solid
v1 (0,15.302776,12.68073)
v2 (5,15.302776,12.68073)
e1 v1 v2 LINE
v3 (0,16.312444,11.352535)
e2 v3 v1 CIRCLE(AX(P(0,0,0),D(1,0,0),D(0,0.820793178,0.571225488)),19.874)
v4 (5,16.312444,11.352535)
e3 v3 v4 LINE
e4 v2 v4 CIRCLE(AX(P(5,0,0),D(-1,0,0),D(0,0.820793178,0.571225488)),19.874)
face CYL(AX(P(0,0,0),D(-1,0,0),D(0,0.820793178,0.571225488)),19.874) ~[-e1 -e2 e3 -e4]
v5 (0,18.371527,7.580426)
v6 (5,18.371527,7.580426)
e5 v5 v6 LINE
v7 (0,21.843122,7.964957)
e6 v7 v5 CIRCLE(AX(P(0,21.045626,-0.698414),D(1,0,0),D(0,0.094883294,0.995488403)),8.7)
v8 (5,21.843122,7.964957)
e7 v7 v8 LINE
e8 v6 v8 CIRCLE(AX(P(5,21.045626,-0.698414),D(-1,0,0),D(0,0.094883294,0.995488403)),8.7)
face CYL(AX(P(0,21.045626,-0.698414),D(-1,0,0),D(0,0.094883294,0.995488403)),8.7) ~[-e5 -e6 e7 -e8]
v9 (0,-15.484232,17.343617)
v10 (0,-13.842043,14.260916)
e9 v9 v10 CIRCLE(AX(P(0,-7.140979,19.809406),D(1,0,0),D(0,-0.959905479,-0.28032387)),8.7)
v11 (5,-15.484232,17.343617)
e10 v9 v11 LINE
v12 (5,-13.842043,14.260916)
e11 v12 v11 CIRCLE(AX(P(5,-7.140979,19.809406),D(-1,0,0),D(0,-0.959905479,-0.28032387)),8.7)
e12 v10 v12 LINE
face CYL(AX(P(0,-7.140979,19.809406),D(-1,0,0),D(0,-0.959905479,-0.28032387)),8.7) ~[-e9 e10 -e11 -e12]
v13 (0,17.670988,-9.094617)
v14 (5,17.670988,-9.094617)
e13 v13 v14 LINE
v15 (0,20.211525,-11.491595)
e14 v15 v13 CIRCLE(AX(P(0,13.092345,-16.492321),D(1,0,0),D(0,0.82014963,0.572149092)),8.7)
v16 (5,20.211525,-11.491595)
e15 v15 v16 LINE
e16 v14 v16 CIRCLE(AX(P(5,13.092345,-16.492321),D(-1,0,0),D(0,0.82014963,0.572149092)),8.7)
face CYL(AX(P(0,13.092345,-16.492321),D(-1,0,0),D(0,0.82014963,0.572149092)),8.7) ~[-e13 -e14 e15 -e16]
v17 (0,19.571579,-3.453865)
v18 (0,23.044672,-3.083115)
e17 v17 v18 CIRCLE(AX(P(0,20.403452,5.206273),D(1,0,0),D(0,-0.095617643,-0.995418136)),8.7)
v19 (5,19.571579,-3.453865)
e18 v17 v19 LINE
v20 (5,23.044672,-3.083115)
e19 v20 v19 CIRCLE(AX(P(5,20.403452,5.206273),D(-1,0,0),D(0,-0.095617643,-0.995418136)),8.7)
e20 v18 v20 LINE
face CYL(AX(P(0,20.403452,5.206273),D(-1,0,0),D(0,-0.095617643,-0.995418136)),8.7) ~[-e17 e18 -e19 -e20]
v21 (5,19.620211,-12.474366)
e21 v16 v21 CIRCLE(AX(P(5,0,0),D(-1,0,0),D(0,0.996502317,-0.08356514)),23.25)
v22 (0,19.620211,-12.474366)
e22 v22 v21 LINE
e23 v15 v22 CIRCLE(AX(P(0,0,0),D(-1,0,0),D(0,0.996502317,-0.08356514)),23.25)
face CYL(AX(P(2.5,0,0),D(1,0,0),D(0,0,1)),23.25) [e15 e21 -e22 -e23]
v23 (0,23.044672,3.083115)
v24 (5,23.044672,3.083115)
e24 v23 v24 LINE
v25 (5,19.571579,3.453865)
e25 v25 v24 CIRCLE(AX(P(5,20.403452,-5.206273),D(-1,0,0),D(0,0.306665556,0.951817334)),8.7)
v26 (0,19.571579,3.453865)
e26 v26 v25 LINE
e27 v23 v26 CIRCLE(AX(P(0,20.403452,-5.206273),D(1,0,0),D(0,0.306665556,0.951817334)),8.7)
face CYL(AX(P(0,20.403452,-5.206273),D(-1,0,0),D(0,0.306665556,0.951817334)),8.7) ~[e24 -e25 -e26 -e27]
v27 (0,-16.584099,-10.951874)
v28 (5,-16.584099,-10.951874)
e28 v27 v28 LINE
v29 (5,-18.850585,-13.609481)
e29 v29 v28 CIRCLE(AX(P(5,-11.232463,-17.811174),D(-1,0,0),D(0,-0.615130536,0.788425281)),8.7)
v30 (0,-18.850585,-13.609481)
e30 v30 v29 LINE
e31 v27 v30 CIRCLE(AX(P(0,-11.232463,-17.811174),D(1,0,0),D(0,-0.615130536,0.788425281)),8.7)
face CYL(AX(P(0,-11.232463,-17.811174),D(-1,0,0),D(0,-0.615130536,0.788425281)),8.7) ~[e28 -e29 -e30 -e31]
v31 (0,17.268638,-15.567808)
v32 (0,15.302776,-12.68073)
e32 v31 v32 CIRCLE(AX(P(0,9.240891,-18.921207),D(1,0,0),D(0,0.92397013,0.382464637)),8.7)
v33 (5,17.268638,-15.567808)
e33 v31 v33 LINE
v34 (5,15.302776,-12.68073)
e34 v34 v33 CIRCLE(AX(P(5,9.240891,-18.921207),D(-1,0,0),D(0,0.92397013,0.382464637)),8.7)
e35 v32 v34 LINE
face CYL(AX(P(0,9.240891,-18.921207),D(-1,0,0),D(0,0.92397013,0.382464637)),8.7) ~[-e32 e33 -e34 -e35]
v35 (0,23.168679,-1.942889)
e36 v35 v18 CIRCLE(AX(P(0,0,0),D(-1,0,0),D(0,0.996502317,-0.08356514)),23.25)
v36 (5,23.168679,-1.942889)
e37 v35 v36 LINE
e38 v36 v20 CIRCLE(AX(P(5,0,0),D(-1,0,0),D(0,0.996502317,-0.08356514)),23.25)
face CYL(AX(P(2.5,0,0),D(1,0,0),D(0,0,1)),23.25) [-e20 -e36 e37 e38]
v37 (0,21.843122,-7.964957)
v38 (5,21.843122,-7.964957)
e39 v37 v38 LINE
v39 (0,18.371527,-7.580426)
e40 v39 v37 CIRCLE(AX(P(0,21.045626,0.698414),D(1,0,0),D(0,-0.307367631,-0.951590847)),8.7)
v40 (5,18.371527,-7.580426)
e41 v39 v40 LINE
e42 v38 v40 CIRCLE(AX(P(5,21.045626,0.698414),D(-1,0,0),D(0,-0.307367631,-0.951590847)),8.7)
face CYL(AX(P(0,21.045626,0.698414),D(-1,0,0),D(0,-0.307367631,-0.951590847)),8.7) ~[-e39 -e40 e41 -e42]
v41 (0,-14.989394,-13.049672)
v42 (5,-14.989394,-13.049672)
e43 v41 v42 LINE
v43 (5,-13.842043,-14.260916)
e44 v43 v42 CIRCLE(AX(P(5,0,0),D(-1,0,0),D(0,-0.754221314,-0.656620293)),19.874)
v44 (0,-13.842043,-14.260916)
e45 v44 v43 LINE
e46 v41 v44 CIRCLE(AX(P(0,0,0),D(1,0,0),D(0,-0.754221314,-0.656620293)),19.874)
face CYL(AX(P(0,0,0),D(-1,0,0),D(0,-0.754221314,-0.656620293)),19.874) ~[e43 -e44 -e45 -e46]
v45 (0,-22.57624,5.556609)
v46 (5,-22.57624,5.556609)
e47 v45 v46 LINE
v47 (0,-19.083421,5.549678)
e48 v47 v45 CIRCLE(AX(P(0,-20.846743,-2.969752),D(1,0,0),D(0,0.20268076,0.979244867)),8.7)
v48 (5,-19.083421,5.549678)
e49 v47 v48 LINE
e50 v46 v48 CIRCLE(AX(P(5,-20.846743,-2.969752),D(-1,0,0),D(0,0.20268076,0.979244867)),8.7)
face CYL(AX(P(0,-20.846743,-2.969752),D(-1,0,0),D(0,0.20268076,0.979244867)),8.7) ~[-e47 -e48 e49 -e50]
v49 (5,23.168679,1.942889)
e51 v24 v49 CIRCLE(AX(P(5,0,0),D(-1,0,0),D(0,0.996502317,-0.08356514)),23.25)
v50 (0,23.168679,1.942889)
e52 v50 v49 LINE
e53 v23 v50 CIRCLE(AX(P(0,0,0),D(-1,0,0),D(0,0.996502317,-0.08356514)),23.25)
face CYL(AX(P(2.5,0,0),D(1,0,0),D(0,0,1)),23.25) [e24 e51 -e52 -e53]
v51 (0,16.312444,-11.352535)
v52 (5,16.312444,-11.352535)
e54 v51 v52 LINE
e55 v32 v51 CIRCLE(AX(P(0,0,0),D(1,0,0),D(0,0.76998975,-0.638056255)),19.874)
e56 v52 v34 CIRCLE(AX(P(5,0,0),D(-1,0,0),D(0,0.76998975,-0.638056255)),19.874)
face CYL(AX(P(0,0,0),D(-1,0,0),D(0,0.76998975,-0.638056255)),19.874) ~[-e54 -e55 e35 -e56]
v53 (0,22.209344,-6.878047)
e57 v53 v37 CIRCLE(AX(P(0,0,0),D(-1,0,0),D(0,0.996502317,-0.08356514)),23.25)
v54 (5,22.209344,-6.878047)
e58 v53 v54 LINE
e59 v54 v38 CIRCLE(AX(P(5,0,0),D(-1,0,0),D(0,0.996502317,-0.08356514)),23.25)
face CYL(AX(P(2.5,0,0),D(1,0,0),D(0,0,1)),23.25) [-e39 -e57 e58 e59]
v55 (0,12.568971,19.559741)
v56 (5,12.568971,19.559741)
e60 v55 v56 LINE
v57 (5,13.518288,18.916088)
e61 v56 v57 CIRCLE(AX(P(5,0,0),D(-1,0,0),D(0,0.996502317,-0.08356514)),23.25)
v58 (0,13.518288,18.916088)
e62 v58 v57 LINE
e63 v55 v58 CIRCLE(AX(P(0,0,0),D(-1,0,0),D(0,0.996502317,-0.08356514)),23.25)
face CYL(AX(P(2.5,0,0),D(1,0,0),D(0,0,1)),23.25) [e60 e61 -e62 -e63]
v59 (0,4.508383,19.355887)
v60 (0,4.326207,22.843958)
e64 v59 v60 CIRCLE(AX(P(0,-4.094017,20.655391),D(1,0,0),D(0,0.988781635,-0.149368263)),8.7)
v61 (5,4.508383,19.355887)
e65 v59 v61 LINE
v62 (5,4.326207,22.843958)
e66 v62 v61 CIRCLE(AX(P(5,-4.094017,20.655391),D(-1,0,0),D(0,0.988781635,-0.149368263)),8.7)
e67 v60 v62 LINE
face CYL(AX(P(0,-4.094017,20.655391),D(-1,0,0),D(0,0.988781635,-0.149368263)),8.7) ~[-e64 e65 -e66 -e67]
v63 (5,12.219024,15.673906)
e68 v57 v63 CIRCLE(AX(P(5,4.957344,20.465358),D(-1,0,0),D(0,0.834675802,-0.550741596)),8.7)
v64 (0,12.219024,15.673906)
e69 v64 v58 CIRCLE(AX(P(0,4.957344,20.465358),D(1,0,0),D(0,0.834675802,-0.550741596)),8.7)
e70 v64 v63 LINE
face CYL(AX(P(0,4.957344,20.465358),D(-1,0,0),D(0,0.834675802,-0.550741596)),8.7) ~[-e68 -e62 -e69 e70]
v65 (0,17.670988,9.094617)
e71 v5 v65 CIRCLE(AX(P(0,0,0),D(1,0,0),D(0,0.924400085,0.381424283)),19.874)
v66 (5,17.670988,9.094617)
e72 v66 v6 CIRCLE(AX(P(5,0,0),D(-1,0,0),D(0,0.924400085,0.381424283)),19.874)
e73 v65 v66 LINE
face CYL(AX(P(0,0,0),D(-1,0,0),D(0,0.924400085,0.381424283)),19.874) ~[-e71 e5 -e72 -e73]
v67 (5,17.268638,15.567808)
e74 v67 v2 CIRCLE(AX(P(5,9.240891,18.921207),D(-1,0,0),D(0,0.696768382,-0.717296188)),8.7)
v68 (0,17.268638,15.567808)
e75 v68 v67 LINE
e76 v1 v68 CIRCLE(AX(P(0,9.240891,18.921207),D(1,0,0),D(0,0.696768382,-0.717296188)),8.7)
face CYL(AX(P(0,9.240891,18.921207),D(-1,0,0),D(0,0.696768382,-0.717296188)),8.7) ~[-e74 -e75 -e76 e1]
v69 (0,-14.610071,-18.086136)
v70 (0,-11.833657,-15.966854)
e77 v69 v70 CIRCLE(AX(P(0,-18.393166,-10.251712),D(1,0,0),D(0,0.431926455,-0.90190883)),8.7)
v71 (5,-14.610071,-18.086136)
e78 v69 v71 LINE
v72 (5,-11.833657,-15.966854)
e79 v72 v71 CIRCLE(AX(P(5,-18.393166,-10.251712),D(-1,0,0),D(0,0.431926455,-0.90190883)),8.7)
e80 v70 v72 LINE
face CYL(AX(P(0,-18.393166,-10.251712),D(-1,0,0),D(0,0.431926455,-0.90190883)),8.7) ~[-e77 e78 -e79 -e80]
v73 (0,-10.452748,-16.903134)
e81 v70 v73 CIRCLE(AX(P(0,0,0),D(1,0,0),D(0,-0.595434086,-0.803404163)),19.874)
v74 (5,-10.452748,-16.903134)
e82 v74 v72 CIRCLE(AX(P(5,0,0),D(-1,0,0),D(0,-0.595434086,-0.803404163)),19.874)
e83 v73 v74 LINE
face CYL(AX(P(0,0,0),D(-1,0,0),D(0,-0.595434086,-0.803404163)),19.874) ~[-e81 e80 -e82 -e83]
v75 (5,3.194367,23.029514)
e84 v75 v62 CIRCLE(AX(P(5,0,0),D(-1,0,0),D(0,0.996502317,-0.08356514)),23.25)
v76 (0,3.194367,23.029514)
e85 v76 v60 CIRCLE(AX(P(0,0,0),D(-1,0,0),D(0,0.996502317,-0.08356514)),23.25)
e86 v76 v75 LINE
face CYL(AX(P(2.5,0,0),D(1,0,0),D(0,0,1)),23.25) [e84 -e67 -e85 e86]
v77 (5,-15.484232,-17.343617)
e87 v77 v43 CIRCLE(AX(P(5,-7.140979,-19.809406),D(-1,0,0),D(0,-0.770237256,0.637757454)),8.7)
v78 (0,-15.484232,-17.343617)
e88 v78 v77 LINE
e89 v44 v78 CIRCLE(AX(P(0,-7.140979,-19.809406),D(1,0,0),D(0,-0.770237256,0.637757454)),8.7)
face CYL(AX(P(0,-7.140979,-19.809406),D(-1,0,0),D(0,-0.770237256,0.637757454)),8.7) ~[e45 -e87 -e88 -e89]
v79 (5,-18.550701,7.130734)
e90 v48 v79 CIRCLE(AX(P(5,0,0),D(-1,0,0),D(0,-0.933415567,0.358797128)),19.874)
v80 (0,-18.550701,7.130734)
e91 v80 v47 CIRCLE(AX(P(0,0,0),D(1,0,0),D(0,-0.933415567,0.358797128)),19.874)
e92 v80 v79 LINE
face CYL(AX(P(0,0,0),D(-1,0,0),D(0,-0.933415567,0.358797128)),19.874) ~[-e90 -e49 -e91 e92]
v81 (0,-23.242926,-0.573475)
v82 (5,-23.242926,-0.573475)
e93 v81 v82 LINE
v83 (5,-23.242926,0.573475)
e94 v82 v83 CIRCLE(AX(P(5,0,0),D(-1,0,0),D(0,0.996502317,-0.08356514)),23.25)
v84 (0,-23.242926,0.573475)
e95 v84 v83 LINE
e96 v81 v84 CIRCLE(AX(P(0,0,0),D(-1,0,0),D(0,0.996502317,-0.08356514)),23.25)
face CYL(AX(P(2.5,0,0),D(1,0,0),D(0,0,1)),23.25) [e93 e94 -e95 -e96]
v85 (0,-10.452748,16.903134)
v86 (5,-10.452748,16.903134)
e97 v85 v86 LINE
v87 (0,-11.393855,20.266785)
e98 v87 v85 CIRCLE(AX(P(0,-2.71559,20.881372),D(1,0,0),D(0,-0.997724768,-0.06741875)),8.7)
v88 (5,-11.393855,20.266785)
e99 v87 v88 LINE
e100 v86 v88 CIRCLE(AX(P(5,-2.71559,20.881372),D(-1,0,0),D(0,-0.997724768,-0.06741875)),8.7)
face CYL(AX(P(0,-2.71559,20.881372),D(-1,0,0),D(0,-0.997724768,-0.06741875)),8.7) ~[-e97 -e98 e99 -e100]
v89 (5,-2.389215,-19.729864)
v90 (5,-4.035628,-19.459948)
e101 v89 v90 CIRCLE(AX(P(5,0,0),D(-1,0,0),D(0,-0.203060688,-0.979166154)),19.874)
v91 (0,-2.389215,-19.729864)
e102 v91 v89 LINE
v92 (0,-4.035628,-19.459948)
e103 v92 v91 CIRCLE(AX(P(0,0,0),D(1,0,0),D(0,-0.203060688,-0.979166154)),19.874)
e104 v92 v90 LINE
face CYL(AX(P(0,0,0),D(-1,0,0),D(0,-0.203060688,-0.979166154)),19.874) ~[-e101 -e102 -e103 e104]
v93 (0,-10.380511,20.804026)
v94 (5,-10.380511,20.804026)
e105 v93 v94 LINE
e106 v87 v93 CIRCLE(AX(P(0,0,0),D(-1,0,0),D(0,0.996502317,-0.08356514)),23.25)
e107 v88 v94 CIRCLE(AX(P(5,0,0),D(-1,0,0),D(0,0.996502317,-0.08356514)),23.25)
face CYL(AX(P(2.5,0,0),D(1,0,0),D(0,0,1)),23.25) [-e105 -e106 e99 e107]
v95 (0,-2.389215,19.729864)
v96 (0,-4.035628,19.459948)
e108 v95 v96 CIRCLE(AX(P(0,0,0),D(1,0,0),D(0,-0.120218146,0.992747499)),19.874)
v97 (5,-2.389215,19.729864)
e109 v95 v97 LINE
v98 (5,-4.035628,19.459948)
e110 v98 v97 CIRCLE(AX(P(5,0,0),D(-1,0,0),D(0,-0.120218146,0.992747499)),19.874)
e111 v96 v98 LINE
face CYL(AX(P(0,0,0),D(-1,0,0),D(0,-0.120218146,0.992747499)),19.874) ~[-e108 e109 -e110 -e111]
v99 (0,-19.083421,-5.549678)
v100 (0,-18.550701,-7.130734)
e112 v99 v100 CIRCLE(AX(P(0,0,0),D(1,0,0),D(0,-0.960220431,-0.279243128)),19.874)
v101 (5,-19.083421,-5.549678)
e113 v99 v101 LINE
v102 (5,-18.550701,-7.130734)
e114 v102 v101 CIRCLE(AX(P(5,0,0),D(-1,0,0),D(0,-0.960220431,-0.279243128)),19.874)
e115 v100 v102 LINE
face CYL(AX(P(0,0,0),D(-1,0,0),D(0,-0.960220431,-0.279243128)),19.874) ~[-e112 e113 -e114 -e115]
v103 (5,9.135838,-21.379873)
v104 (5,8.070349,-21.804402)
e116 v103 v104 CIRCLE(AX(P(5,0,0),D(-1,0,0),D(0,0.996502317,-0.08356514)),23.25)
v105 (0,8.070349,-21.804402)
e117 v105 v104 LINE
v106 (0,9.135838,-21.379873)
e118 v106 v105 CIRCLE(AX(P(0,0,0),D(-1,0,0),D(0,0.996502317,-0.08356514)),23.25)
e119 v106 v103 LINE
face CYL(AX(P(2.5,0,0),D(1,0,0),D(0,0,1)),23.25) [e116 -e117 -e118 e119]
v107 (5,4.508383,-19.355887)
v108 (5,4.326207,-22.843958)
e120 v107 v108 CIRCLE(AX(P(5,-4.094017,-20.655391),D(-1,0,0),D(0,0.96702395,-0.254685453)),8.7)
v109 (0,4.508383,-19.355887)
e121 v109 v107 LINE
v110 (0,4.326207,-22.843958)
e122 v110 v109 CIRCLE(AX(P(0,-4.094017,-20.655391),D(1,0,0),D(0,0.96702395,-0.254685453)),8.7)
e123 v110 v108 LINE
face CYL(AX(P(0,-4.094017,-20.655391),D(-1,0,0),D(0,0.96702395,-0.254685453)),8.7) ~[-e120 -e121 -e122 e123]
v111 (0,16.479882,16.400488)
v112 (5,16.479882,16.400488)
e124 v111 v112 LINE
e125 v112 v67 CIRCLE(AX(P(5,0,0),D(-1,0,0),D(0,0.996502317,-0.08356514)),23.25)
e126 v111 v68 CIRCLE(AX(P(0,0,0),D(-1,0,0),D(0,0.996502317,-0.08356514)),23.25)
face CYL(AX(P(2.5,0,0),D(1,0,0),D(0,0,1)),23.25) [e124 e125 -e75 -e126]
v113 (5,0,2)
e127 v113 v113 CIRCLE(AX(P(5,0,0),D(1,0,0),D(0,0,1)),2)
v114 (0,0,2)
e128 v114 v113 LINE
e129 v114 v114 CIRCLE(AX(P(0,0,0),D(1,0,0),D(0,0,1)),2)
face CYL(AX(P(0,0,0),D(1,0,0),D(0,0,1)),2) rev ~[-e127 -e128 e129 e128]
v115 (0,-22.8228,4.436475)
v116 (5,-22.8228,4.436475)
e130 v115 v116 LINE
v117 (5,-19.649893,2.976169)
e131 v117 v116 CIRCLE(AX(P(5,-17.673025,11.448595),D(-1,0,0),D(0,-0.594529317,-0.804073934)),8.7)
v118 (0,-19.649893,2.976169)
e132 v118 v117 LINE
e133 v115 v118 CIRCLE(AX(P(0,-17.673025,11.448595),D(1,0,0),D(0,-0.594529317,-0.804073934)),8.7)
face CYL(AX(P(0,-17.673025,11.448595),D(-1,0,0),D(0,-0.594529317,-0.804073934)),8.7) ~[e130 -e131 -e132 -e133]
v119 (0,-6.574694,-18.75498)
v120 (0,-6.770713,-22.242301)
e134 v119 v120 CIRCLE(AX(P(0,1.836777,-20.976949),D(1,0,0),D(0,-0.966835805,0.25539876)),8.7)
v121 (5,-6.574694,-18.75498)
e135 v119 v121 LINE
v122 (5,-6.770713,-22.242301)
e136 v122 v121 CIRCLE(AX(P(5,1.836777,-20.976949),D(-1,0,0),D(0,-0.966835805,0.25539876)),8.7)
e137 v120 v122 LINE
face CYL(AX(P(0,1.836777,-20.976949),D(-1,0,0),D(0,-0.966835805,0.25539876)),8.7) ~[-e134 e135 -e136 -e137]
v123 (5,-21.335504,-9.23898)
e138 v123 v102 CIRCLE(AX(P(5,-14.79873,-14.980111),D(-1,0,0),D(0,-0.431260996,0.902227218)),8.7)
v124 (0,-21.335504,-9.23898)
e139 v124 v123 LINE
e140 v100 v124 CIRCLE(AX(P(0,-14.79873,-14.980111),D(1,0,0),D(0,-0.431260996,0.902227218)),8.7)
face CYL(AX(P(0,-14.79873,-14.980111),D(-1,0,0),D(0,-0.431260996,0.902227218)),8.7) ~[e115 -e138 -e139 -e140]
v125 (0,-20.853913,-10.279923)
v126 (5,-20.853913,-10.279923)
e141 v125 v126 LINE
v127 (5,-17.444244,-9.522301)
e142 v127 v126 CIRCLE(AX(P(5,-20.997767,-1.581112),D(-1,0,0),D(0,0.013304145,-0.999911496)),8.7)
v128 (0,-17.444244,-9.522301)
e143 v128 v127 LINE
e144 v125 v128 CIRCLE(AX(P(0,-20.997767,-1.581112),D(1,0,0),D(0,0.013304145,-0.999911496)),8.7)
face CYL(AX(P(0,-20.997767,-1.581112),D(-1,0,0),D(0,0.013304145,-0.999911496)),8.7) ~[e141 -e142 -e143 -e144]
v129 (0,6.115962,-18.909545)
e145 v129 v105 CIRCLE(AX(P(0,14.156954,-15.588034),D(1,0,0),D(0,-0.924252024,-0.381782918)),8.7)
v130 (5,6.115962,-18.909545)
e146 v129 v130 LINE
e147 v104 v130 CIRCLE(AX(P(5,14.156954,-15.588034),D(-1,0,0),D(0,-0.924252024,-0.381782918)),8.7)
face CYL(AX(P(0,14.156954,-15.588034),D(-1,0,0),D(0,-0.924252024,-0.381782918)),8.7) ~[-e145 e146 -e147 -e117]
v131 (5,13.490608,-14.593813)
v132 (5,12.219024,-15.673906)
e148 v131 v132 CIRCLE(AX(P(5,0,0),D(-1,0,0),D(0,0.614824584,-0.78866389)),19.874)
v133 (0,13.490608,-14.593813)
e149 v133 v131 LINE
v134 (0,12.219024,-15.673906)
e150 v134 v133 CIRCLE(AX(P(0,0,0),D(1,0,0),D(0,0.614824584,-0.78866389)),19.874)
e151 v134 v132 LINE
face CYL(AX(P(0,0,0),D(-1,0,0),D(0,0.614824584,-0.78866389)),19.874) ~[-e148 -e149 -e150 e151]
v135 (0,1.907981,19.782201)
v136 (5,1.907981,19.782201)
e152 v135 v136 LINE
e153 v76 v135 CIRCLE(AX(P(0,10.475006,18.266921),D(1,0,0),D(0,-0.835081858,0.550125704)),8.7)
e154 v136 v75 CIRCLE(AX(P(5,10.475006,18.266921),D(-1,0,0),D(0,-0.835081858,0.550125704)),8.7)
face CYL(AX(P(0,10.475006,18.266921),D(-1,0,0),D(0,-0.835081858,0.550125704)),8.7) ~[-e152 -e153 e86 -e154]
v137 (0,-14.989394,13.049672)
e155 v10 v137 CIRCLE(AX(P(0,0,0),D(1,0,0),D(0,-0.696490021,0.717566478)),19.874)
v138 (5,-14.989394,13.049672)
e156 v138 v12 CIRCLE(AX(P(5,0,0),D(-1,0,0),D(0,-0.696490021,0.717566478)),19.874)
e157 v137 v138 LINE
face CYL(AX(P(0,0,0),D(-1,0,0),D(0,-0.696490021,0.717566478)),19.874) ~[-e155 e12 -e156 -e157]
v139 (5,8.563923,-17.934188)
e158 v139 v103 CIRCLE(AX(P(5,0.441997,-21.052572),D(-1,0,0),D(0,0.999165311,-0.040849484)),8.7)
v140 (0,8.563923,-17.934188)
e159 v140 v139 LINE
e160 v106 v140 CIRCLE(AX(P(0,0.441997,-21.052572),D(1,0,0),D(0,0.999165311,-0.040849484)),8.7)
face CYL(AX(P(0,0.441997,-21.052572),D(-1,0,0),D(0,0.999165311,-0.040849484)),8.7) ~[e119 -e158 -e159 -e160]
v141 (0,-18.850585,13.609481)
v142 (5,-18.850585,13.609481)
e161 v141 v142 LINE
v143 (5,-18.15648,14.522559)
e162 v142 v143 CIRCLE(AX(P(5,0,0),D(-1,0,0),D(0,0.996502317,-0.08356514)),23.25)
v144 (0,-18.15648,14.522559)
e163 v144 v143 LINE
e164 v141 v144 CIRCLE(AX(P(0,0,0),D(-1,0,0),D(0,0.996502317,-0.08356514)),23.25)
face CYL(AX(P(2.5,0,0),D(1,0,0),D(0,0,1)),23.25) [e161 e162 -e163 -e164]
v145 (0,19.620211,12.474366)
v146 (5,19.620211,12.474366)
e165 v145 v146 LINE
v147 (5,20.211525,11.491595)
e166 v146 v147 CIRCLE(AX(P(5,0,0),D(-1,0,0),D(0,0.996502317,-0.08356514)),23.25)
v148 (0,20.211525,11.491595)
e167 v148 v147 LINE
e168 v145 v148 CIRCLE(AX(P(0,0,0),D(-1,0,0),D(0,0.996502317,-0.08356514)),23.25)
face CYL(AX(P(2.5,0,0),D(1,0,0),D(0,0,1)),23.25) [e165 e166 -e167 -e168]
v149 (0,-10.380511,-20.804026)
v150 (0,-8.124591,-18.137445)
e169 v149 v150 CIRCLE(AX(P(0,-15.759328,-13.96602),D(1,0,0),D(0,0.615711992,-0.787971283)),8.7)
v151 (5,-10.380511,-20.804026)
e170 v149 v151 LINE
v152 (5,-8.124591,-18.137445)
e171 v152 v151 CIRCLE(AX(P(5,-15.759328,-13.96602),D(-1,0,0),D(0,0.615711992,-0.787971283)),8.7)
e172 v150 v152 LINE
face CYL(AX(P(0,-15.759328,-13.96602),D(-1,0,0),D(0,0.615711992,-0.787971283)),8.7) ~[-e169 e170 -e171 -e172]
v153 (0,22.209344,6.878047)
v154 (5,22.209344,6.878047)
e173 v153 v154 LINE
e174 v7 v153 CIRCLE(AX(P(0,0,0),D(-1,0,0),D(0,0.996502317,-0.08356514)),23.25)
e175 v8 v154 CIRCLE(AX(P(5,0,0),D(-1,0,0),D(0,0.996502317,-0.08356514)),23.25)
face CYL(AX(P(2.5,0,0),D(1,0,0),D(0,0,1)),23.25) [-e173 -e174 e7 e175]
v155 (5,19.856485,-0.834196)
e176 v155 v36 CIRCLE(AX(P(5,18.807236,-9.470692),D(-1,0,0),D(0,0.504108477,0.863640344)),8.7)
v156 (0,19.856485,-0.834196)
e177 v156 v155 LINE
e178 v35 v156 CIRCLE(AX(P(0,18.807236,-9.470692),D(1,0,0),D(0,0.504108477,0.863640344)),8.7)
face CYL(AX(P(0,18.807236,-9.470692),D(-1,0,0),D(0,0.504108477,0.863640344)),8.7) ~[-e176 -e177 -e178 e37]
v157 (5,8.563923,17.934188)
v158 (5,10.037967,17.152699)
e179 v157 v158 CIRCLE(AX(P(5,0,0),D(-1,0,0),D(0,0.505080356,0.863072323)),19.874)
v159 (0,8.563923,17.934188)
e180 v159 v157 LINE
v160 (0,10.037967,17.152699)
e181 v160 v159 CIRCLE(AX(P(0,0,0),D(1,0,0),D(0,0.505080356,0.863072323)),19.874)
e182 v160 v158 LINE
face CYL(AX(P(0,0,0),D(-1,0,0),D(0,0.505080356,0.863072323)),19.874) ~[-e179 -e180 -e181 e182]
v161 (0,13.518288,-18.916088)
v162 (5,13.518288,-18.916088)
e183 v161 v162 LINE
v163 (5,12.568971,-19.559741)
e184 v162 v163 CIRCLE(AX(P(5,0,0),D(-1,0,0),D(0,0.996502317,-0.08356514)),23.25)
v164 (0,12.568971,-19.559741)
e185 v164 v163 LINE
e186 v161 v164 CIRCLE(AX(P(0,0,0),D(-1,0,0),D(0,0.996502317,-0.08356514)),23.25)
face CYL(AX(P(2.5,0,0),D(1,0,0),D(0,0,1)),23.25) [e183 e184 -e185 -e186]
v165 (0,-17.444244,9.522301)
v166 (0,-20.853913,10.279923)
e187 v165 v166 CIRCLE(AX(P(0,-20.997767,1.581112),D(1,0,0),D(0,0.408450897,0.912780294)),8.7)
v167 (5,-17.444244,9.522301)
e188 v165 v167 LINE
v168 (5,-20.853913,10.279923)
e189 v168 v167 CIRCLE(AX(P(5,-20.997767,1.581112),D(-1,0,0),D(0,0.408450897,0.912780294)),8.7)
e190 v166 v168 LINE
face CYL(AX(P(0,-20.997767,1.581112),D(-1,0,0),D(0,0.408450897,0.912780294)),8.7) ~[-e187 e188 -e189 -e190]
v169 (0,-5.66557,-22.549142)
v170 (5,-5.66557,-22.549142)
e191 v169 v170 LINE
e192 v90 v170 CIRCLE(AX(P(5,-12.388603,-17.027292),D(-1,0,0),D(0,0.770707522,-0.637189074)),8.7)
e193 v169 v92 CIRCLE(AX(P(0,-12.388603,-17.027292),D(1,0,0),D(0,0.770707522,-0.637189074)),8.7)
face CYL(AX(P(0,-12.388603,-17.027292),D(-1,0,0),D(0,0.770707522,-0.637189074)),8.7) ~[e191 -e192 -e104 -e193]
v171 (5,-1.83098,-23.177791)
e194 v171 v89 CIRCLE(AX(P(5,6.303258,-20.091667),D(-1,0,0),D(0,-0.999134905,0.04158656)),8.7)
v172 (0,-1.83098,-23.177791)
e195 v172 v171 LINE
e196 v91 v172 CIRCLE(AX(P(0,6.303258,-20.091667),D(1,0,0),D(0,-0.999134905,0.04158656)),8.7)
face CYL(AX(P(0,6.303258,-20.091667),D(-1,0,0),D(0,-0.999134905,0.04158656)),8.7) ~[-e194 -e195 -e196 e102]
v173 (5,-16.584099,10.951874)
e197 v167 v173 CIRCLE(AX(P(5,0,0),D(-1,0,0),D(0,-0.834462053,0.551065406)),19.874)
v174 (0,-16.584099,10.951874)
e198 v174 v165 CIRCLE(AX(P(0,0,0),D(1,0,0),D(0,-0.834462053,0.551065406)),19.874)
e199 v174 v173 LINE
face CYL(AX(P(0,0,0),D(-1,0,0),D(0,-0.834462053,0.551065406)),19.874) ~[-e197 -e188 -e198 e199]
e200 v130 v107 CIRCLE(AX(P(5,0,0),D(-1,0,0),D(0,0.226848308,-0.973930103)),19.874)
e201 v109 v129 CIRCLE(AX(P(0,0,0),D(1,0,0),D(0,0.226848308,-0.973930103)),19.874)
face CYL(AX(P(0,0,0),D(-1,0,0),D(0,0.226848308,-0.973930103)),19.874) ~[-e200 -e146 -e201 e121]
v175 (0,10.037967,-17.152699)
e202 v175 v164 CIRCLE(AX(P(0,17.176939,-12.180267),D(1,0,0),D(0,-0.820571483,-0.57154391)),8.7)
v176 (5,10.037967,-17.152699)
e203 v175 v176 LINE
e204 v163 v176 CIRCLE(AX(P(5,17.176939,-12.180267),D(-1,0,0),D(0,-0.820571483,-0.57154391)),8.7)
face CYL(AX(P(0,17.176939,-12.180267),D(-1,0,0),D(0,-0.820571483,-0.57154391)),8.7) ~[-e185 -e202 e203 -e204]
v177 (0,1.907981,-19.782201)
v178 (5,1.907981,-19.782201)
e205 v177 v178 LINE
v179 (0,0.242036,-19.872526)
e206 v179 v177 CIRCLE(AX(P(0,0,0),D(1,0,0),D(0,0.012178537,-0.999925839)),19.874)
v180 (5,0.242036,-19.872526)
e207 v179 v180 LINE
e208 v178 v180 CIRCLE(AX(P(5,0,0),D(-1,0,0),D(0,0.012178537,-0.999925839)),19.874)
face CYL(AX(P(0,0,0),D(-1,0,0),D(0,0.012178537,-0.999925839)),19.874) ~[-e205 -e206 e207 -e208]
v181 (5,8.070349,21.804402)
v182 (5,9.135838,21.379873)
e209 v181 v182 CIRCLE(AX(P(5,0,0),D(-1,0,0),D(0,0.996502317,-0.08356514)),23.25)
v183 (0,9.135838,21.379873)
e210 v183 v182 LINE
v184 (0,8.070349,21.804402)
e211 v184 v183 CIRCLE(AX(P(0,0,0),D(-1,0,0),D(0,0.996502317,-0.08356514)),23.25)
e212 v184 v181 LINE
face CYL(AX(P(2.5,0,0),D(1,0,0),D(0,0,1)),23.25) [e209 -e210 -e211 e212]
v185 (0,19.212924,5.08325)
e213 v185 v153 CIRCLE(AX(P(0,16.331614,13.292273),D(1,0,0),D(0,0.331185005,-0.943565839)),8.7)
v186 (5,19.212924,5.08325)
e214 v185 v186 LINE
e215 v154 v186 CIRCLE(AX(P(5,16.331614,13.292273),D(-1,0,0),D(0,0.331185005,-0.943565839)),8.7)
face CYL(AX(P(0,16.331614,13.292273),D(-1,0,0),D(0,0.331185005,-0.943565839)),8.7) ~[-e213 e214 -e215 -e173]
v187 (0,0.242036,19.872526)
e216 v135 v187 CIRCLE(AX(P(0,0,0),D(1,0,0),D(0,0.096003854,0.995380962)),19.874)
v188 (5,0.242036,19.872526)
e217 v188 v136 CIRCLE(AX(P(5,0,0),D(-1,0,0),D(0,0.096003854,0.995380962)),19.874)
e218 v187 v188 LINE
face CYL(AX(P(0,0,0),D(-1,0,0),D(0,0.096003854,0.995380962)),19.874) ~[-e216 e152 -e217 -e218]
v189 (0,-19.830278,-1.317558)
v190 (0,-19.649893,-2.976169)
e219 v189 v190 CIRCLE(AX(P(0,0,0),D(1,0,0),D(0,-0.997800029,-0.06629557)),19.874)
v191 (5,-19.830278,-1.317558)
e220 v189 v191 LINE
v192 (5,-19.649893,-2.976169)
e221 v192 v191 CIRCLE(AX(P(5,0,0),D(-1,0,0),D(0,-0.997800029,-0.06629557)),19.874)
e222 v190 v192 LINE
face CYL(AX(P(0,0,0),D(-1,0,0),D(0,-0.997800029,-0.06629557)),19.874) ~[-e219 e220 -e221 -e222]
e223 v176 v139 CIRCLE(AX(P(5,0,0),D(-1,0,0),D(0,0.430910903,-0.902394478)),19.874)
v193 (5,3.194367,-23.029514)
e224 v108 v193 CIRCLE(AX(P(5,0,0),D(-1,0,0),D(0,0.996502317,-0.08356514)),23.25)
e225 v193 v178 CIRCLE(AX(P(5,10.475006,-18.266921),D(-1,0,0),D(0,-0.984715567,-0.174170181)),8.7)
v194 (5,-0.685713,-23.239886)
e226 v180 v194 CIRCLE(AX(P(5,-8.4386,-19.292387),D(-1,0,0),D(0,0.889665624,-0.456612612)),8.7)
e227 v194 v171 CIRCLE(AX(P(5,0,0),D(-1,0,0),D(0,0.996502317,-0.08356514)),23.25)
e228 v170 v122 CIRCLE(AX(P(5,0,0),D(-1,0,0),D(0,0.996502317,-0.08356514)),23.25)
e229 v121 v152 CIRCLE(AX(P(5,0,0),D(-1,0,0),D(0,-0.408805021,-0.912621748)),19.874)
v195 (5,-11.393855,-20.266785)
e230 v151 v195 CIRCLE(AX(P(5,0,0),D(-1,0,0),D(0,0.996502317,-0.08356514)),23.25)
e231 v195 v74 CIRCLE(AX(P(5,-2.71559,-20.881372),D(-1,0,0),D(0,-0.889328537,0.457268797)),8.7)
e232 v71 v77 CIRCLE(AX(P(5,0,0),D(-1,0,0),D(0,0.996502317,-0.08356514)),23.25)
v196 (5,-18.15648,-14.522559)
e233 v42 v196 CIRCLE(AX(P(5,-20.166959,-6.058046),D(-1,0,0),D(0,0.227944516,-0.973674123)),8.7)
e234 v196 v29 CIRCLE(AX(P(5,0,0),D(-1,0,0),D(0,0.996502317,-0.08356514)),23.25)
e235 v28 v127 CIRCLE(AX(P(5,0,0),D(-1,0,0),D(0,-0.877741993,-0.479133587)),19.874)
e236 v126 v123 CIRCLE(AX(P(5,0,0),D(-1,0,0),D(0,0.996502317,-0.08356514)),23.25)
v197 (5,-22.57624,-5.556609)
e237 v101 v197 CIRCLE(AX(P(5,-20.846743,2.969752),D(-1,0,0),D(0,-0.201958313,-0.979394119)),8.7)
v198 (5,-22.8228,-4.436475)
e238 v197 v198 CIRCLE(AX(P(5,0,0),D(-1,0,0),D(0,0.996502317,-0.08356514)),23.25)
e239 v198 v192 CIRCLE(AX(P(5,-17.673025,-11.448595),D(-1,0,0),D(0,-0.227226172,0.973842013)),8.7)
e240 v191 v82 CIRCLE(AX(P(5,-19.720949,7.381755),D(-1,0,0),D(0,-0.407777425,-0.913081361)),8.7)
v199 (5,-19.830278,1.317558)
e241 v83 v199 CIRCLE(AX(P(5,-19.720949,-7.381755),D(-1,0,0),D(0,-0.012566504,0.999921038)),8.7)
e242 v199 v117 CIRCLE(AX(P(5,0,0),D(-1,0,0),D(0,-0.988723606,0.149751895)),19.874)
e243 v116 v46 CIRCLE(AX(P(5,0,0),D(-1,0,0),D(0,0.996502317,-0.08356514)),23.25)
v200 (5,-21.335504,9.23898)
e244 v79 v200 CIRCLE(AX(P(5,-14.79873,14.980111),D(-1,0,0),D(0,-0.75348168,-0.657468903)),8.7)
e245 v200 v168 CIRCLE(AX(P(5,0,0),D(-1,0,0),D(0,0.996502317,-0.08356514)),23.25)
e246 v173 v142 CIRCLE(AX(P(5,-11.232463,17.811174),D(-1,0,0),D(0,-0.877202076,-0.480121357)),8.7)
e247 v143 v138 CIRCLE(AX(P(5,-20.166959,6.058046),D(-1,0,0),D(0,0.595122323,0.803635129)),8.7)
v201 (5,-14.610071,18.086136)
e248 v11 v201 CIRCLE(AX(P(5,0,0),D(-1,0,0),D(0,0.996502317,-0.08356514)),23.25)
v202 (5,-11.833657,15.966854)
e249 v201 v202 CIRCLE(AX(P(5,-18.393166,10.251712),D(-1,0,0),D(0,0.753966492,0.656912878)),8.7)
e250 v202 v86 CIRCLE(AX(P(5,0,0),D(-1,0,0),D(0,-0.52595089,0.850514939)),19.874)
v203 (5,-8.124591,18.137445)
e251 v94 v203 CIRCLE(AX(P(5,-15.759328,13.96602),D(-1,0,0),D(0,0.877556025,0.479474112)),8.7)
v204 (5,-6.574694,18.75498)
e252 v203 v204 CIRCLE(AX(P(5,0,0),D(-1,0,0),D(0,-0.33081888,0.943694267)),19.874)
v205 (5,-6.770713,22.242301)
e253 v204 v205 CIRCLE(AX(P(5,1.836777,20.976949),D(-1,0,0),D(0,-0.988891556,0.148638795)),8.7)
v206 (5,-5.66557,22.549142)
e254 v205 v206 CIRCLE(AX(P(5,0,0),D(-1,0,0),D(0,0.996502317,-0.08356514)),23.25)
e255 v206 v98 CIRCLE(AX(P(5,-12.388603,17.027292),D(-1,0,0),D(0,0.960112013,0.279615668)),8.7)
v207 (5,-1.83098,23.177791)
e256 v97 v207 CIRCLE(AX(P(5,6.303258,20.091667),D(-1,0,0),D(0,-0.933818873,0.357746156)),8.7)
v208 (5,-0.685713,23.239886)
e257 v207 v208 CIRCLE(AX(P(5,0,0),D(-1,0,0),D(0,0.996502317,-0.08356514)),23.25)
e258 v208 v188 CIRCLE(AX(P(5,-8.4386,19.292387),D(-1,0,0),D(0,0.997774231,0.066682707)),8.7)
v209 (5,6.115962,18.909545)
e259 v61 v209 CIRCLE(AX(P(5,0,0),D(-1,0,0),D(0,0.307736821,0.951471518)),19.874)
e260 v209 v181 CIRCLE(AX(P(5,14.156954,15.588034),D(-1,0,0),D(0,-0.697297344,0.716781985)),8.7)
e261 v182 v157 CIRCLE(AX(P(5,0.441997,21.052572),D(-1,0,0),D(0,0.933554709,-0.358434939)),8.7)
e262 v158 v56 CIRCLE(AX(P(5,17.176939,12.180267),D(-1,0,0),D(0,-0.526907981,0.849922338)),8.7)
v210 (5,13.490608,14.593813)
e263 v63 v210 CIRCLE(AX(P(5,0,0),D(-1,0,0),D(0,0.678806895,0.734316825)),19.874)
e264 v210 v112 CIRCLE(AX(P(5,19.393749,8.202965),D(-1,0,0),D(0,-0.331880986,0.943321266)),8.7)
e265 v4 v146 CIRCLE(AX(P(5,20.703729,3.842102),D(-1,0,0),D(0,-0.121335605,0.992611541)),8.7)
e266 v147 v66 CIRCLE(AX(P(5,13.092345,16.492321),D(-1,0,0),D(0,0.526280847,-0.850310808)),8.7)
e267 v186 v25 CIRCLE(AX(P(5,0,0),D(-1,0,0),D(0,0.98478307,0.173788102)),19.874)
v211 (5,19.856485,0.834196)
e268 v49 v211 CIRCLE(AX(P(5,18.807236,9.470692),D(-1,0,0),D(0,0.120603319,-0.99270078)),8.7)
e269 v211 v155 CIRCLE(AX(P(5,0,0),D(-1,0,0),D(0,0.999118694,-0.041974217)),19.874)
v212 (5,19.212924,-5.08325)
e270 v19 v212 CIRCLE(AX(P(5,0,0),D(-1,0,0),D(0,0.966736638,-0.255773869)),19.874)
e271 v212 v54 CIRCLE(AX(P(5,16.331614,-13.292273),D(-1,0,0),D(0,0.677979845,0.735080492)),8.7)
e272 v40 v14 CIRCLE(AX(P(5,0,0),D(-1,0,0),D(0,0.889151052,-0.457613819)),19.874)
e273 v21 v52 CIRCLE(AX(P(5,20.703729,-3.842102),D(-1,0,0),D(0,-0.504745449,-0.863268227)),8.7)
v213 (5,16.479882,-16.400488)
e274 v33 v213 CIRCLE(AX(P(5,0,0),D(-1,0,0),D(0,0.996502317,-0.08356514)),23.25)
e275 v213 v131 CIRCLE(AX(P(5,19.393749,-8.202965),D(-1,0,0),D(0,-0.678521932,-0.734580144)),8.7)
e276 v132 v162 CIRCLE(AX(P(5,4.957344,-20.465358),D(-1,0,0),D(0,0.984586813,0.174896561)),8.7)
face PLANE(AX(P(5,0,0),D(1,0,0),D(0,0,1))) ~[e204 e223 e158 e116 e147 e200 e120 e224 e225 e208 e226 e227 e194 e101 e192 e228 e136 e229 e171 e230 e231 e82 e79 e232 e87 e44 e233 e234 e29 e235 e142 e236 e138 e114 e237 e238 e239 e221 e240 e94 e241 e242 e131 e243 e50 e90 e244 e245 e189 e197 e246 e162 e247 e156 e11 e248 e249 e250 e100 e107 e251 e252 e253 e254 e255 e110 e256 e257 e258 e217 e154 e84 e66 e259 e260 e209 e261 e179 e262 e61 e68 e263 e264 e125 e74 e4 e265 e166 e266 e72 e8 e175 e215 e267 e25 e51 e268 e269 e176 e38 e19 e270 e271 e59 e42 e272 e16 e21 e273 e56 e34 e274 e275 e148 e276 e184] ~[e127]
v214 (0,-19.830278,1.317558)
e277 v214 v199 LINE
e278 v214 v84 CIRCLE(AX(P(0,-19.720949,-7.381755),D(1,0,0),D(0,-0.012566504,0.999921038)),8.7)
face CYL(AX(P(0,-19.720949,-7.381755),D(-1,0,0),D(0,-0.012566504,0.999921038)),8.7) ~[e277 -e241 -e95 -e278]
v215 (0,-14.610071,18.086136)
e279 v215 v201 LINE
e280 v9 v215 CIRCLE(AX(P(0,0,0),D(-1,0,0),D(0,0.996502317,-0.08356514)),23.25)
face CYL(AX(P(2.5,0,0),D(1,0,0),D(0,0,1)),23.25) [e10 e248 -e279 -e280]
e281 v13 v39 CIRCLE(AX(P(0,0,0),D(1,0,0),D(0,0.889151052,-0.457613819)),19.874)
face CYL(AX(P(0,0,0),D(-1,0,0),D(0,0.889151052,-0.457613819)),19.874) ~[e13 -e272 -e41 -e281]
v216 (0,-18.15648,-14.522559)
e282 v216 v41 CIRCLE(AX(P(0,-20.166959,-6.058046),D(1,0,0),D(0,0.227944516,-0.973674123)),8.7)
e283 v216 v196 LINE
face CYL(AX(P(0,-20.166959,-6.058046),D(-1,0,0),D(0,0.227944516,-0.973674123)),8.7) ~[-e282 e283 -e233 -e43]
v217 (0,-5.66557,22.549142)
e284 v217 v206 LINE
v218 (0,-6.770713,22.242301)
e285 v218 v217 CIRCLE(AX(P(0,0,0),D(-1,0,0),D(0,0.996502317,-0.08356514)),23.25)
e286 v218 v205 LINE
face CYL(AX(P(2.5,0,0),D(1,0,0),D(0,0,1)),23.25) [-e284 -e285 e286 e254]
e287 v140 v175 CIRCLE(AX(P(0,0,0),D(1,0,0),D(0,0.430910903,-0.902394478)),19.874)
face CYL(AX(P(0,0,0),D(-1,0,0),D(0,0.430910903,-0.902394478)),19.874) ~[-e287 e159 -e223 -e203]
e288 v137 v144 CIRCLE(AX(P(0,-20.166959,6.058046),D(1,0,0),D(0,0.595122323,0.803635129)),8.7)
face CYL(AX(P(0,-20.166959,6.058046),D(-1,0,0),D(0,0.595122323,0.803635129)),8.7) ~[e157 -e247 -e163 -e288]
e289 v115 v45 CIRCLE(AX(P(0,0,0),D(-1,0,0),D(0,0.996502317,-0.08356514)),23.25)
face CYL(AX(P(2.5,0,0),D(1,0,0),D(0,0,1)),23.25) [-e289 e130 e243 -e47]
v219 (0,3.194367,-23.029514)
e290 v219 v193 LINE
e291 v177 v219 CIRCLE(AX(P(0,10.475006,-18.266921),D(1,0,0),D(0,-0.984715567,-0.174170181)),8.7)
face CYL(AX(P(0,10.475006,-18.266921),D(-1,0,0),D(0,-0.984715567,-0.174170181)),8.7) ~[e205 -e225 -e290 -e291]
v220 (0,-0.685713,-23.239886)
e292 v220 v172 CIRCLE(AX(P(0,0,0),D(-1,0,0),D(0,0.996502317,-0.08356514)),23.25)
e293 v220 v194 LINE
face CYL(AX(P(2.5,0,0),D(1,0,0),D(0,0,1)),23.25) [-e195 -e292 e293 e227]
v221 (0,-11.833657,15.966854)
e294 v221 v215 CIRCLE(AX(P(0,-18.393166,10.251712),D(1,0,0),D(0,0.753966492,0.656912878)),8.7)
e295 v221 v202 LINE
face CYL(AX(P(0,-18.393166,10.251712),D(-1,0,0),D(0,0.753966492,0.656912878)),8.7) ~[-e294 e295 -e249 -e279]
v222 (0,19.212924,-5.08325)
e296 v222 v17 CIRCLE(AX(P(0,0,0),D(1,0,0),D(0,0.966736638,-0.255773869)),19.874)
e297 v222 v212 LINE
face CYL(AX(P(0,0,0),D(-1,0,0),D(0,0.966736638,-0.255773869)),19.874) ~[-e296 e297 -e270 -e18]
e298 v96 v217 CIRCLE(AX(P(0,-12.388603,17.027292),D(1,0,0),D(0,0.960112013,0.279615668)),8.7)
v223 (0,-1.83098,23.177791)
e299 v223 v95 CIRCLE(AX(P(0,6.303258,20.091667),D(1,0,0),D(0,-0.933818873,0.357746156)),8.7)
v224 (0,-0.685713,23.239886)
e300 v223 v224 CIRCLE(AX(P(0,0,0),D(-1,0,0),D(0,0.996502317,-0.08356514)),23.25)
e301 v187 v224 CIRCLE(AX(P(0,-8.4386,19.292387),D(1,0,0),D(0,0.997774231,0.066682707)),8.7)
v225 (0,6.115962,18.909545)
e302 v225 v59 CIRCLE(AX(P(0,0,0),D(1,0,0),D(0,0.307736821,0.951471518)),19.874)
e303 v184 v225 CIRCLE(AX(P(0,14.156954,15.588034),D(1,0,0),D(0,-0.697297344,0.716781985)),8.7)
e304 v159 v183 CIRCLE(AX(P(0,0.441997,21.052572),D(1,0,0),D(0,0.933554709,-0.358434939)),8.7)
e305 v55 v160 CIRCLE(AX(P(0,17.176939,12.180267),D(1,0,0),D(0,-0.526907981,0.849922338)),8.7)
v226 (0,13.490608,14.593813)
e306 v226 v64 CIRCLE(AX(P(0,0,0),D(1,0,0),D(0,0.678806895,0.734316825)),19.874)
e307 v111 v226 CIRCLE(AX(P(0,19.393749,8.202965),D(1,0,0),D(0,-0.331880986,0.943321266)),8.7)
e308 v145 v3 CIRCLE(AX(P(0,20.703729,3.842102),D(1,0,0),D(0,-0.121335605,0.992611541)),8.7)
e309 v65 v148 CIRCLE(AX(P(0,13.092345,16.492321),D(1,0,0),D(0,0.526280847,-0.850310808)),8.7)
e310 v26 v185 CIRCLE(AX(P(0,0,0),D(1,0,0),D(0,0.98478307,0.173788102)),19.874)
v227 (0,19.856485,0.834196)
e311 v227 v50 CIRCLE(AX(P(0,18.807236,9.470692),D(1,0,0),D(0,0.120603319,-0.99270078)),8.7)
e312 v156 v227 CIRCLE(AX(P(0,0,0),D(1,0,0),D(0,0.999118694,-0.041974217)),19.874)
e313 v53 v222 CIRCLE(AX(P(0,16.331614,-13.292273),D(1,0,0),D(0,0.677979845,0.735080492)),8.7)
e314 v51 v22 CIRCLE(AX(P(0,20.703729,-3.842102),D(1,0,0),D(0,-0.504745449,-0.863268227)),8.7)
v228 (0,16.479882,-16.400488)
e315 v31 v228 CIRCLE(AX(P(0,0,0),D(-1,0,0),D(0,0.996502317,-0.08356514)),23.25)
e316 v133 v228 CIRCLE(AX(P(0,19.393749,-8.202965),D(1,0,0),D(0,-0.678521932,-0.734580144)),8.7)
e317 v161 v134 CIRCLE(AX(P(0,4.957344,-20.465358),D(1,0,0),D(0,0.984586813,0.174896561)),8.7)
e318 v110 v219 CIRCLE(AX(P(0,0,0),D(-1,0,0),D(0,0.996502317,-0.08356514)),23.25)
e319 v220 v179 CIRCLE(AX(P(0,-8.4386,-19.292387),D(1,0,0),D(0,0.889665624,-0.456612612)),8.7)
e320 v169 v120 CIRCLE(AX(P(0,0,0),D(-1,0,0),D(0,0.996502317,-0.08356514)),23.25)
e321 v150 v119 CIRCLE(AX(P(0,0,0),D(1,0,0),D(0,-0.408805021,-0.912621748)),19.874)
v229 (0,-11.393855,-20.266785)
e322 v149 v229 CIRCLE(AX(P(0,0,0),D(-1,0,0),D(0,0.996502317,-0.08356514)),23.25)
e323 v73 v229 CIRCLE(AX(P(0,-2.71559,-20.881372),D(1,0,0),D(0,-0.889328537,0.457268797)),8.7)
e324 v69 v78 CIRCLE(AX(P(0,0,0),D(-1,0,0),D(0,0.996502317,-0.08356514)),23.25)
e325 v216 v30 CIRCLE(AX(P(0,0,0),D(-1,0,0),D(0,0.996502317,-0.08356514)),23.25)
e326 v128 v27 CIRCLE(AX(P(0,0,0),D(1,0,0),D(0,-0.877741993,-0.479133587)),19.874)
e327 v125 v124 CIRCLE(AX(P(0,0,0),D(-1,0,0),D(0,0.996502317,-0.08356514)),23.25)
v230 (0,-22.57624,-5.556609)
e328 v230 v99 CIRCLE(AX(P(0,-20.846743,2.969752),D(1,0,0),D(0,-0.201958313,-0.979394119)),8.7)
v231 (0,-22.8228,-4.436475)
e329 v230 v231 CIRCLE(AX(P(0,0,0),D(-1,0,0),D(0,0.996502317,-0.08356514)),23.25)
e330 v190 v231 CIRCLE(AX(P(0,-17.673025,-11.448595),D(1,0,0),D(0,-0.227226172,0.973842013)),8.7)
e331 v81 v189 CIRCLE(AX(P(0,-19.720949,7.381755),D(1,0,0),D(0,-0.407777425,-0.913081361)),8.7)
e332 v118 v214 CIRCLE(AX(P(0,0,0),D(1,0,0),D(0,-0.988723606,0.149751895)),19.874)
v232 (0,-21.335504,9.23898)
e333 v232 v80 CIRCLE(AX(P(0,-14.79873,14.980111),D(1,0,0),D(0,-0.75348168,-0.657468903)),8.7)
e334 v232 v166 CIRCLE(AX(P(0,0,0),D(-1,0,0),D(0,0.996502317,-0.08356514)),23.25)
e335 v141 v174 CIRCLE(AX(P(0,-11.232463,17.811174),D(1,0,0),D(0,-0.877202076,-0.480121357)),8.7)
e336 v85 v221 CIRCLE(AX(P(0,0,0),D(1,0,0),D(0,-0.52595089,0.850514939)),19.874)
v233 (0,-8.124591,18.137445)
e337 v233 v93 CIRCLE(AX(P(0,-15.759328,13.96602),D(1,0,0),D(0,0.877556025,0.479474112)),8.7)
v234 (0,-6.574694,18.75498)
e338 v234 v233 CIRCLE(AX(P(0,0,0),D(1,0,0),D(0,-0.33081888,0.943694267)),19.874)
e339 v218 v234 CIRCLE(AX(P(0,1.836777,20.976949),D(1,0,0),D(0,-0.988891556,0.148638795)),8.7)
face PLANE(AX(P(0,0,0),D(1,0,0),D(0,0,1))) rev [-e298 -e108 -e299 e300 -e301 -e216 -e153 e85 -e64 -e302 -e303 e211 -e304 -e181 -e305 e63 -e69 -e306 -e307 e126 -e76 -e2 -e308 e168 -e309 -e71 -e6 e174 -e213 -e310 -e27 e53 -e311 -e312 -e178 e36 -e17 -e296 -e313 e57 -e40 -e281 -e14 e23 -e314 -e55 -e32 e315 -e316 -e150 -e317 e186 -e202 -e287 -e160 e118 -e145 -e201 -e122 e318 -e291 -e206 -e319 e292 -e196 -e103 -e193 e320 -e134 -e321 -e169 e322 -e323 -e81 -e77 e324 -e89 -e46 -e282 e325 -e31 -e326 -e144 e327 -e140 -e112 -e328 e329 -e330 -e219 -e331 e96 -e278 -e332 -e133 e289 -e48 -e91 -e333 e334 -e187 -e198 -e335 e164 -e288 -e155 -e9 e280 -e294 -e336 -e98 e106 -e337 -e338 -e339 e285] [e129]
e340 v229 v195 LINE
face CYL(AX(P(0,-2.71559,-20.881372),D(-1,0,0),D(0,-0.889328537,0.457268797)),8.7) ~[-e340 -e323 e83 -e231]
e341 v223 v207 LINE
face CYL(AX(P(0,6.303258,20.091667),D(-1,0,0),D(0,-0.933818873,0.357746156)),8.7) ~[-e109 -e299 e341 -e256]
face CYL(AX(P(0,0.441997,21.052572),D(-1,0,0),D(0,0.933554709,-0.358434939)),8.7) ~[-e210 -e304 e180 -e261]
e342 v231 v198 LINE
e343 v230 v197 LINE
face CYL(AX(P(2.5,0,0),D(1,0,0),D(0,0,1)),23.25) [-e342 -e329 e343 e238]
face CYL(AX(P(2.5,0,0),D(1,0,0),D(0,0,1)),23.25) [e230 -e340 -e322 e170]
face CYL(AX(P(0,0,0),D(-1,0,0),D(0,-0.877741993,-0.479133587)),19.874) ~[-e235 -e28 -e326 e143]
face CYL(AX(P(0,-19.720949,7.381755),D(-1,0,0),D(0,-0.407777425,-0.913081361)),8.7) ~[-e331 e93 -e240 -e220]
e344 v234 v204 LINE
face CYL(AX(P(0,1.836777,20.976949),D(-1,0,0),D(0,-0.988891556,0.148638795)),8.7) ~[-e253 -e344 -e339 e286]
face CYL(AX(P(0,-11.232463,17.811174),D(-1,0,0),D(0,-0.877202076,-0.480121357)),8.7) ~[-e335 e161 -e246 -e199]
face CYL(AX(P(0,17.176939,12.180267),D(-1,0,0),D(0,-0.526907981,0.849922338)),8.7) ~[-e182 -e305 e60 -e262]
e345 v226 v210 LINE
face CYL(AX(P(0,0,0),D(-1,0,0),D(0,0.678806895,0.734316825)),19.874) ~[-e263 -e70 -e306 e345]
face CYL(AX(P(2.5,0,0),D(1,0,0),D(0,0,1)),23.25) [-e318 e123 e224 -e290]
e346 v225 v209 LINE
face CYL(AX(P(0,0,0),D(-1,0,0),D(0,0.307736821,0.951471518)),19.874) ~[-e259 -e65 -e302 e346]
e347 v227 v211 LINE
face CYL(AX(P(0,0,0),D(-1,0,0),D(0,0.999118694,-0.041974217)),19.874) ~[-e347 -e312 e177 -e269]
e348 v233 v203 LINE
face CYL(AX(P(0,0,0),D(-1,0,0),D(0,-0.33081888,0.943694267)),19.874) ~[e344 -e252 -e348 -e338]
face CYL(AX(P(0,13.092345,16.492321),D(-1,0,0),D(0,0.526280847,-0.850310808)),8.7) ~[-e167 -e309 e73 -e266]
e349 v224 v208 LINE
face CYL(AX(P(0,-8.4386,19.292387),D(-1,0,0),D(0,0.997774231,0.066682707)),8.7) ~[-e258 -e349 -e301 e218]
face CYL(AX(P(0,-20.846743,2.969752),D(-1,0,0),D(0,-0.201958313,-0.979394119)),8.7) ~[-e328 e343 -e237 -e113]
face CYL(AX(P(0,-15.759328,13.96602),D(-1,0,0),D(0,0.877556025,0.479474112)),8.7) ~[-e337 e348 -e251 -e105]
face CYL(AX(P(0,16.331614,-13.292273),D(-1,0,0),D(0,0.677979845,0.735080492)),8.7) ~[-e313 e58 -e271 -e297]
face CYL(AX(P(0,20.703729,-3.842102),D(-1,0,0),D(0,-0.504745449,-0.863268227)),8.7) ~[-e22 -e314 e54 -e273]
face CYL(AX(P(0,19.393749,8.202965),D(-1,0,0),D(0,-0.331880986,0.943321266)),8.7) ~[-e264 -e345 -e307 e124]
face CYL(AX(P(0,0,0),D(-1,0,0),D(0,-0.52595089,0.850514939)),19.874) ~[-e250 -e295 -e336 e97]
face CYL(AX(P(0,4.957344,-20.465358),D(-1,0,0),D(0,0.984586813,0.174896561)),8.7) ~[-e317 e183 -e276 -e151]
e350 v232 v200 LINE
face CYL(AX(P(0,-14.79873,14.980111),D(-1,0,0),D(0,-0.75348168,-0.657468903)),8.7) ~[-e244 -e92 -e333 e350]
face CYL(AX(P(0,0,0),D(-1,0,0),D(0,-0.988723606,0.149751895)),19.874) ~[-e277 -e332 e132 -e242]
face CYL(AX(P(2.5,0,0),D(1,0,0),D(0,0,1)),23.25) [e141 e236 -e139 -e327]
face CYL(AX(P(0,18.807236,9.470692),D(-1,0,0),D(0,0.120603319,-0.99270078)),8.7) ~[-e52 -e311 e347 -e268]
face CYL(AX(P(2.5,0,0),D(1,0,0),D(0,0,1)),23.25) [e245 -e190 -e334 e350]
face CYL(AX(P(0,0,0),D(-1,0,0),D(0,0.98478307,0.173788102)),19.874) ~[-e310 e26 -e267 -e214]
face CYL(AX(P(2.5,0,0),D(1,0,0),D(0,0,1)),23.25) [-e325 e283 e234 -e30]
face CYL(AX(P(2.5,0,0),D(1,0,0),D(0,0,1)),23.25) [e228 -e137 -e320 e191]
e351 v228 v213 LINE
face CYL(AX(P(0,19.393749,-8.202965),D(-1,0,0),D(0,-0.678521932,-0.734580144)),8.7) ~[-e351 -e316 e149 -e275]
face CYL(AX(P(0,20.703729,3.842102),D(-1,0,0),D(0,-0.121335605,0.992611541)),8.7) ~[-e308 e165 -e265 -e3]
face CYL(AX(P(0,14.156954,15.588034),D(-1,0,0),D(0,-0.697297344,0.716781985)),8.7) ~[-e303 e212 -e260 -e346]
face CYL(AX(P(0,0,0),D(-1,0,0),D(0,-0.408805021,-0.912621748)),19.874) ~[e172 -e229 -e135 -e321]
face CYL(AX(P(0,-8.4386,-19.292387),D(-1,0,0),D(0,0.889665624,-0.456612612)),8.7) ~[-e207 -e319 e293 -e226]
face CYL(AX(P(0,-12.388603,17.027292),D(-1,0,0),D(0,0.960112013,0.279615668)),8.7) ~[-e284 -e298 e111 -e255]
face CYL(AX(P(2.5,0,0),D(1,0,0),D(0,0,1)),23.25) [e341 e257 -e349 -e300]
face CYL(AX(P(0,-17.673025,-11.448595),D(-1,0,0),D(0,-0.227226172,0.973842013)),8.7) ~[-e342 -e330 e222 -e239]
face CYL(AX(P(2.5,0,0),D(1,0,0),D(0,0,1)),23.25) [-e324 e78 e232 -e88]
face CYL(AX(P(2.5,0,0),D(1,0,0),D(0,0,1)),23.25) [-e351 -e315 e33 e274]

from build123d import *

# Parameters (mm, degrees)
BASPROSKE_W     = 5
BASPROSKE_H     = 23.25
TOOTHCUT_DEPTH  = 34.258457571
TEETHCUTS_COUNT = 29
TEETHCUTS_ANGLE = 347.586206897
BORSKE_R        = 2
BORE_DEPTH      = 50.0000508


with BuildPart() as part:
    # BasProSke → Base-Revolve (revolve)
    with BuildSketch(Plane(origin=(0, 0, 0), x_dir=(1, 0, 0), z_dir=(0, 1, 0)), mode=Mode.PRIVATE) as base_revolve_sk:
        with Locations((2.5, 11.625)):
            Rectangle(BASPROSKE_W, BASPROSKE_H)
    revolve(base_revolve_sk.sketch.rotate(Axis((-10, 0, 0), (1, 0, 0)), 180), axis=Axis((-10, 0, 0), (1, 0, 0)))

    # TooCutSke → ToothCut (cut, through all)
    with BuildSketch(Plane(origin=(0, 0, 0), x_dir=(0, 0, -1), z_dir=(1, 0, 0))):
        with BuildLine():
            ThreePointArc((0.834195613, 19.856484928), (0, 19.874), (-0.834195613, 19.856484928))
            ThreePointArc((-0.834195613, 19.856484928), (-1.225085734, 21.582118152), (-1.957021413, 23.192979807))
            ThreePointArc((-1.957021413, 23.192979807), (0, 23.2754), (1.957021413, 23.192979807))
            ThreePointArc((1.957021413, 23.192979807), (1.225085734, 21.582118152), (0.834195613, 19.856484928))
        make_face()
    toothcut = extrude(amount=TOOTHCUT_DEPTH, mode=Mode.SUBTRACT)

    # TeethCuts: ToothCut ×29 about axis
    teethcuts_axis = Axis((-10, 0, 0), (1, 0, 0))
    for i in range(1, TEETHCUTS_COUNT):
        add(toothcut.rotate(teethcuts_axis, i * TEETHCUTS_ANGLE / (TEETHCUTS_COUNT - 1)), mode=Mode.SUBTRACT)

    # BorSke → Bore (cut, symmetric)
    with BuildSketch(Plane(origin=(0, 0, 0), x_dir=(0, 0, -1), z_dir=(1, 0, 0))):
        with Locations(Location((0, 0, 0), (0, 0, 180))):
            Circle(BORSKE_R)
    extrude(amount=BORE_DEPTH, both=True, mode=Mode.SUBTRACT)


solid = part.part
